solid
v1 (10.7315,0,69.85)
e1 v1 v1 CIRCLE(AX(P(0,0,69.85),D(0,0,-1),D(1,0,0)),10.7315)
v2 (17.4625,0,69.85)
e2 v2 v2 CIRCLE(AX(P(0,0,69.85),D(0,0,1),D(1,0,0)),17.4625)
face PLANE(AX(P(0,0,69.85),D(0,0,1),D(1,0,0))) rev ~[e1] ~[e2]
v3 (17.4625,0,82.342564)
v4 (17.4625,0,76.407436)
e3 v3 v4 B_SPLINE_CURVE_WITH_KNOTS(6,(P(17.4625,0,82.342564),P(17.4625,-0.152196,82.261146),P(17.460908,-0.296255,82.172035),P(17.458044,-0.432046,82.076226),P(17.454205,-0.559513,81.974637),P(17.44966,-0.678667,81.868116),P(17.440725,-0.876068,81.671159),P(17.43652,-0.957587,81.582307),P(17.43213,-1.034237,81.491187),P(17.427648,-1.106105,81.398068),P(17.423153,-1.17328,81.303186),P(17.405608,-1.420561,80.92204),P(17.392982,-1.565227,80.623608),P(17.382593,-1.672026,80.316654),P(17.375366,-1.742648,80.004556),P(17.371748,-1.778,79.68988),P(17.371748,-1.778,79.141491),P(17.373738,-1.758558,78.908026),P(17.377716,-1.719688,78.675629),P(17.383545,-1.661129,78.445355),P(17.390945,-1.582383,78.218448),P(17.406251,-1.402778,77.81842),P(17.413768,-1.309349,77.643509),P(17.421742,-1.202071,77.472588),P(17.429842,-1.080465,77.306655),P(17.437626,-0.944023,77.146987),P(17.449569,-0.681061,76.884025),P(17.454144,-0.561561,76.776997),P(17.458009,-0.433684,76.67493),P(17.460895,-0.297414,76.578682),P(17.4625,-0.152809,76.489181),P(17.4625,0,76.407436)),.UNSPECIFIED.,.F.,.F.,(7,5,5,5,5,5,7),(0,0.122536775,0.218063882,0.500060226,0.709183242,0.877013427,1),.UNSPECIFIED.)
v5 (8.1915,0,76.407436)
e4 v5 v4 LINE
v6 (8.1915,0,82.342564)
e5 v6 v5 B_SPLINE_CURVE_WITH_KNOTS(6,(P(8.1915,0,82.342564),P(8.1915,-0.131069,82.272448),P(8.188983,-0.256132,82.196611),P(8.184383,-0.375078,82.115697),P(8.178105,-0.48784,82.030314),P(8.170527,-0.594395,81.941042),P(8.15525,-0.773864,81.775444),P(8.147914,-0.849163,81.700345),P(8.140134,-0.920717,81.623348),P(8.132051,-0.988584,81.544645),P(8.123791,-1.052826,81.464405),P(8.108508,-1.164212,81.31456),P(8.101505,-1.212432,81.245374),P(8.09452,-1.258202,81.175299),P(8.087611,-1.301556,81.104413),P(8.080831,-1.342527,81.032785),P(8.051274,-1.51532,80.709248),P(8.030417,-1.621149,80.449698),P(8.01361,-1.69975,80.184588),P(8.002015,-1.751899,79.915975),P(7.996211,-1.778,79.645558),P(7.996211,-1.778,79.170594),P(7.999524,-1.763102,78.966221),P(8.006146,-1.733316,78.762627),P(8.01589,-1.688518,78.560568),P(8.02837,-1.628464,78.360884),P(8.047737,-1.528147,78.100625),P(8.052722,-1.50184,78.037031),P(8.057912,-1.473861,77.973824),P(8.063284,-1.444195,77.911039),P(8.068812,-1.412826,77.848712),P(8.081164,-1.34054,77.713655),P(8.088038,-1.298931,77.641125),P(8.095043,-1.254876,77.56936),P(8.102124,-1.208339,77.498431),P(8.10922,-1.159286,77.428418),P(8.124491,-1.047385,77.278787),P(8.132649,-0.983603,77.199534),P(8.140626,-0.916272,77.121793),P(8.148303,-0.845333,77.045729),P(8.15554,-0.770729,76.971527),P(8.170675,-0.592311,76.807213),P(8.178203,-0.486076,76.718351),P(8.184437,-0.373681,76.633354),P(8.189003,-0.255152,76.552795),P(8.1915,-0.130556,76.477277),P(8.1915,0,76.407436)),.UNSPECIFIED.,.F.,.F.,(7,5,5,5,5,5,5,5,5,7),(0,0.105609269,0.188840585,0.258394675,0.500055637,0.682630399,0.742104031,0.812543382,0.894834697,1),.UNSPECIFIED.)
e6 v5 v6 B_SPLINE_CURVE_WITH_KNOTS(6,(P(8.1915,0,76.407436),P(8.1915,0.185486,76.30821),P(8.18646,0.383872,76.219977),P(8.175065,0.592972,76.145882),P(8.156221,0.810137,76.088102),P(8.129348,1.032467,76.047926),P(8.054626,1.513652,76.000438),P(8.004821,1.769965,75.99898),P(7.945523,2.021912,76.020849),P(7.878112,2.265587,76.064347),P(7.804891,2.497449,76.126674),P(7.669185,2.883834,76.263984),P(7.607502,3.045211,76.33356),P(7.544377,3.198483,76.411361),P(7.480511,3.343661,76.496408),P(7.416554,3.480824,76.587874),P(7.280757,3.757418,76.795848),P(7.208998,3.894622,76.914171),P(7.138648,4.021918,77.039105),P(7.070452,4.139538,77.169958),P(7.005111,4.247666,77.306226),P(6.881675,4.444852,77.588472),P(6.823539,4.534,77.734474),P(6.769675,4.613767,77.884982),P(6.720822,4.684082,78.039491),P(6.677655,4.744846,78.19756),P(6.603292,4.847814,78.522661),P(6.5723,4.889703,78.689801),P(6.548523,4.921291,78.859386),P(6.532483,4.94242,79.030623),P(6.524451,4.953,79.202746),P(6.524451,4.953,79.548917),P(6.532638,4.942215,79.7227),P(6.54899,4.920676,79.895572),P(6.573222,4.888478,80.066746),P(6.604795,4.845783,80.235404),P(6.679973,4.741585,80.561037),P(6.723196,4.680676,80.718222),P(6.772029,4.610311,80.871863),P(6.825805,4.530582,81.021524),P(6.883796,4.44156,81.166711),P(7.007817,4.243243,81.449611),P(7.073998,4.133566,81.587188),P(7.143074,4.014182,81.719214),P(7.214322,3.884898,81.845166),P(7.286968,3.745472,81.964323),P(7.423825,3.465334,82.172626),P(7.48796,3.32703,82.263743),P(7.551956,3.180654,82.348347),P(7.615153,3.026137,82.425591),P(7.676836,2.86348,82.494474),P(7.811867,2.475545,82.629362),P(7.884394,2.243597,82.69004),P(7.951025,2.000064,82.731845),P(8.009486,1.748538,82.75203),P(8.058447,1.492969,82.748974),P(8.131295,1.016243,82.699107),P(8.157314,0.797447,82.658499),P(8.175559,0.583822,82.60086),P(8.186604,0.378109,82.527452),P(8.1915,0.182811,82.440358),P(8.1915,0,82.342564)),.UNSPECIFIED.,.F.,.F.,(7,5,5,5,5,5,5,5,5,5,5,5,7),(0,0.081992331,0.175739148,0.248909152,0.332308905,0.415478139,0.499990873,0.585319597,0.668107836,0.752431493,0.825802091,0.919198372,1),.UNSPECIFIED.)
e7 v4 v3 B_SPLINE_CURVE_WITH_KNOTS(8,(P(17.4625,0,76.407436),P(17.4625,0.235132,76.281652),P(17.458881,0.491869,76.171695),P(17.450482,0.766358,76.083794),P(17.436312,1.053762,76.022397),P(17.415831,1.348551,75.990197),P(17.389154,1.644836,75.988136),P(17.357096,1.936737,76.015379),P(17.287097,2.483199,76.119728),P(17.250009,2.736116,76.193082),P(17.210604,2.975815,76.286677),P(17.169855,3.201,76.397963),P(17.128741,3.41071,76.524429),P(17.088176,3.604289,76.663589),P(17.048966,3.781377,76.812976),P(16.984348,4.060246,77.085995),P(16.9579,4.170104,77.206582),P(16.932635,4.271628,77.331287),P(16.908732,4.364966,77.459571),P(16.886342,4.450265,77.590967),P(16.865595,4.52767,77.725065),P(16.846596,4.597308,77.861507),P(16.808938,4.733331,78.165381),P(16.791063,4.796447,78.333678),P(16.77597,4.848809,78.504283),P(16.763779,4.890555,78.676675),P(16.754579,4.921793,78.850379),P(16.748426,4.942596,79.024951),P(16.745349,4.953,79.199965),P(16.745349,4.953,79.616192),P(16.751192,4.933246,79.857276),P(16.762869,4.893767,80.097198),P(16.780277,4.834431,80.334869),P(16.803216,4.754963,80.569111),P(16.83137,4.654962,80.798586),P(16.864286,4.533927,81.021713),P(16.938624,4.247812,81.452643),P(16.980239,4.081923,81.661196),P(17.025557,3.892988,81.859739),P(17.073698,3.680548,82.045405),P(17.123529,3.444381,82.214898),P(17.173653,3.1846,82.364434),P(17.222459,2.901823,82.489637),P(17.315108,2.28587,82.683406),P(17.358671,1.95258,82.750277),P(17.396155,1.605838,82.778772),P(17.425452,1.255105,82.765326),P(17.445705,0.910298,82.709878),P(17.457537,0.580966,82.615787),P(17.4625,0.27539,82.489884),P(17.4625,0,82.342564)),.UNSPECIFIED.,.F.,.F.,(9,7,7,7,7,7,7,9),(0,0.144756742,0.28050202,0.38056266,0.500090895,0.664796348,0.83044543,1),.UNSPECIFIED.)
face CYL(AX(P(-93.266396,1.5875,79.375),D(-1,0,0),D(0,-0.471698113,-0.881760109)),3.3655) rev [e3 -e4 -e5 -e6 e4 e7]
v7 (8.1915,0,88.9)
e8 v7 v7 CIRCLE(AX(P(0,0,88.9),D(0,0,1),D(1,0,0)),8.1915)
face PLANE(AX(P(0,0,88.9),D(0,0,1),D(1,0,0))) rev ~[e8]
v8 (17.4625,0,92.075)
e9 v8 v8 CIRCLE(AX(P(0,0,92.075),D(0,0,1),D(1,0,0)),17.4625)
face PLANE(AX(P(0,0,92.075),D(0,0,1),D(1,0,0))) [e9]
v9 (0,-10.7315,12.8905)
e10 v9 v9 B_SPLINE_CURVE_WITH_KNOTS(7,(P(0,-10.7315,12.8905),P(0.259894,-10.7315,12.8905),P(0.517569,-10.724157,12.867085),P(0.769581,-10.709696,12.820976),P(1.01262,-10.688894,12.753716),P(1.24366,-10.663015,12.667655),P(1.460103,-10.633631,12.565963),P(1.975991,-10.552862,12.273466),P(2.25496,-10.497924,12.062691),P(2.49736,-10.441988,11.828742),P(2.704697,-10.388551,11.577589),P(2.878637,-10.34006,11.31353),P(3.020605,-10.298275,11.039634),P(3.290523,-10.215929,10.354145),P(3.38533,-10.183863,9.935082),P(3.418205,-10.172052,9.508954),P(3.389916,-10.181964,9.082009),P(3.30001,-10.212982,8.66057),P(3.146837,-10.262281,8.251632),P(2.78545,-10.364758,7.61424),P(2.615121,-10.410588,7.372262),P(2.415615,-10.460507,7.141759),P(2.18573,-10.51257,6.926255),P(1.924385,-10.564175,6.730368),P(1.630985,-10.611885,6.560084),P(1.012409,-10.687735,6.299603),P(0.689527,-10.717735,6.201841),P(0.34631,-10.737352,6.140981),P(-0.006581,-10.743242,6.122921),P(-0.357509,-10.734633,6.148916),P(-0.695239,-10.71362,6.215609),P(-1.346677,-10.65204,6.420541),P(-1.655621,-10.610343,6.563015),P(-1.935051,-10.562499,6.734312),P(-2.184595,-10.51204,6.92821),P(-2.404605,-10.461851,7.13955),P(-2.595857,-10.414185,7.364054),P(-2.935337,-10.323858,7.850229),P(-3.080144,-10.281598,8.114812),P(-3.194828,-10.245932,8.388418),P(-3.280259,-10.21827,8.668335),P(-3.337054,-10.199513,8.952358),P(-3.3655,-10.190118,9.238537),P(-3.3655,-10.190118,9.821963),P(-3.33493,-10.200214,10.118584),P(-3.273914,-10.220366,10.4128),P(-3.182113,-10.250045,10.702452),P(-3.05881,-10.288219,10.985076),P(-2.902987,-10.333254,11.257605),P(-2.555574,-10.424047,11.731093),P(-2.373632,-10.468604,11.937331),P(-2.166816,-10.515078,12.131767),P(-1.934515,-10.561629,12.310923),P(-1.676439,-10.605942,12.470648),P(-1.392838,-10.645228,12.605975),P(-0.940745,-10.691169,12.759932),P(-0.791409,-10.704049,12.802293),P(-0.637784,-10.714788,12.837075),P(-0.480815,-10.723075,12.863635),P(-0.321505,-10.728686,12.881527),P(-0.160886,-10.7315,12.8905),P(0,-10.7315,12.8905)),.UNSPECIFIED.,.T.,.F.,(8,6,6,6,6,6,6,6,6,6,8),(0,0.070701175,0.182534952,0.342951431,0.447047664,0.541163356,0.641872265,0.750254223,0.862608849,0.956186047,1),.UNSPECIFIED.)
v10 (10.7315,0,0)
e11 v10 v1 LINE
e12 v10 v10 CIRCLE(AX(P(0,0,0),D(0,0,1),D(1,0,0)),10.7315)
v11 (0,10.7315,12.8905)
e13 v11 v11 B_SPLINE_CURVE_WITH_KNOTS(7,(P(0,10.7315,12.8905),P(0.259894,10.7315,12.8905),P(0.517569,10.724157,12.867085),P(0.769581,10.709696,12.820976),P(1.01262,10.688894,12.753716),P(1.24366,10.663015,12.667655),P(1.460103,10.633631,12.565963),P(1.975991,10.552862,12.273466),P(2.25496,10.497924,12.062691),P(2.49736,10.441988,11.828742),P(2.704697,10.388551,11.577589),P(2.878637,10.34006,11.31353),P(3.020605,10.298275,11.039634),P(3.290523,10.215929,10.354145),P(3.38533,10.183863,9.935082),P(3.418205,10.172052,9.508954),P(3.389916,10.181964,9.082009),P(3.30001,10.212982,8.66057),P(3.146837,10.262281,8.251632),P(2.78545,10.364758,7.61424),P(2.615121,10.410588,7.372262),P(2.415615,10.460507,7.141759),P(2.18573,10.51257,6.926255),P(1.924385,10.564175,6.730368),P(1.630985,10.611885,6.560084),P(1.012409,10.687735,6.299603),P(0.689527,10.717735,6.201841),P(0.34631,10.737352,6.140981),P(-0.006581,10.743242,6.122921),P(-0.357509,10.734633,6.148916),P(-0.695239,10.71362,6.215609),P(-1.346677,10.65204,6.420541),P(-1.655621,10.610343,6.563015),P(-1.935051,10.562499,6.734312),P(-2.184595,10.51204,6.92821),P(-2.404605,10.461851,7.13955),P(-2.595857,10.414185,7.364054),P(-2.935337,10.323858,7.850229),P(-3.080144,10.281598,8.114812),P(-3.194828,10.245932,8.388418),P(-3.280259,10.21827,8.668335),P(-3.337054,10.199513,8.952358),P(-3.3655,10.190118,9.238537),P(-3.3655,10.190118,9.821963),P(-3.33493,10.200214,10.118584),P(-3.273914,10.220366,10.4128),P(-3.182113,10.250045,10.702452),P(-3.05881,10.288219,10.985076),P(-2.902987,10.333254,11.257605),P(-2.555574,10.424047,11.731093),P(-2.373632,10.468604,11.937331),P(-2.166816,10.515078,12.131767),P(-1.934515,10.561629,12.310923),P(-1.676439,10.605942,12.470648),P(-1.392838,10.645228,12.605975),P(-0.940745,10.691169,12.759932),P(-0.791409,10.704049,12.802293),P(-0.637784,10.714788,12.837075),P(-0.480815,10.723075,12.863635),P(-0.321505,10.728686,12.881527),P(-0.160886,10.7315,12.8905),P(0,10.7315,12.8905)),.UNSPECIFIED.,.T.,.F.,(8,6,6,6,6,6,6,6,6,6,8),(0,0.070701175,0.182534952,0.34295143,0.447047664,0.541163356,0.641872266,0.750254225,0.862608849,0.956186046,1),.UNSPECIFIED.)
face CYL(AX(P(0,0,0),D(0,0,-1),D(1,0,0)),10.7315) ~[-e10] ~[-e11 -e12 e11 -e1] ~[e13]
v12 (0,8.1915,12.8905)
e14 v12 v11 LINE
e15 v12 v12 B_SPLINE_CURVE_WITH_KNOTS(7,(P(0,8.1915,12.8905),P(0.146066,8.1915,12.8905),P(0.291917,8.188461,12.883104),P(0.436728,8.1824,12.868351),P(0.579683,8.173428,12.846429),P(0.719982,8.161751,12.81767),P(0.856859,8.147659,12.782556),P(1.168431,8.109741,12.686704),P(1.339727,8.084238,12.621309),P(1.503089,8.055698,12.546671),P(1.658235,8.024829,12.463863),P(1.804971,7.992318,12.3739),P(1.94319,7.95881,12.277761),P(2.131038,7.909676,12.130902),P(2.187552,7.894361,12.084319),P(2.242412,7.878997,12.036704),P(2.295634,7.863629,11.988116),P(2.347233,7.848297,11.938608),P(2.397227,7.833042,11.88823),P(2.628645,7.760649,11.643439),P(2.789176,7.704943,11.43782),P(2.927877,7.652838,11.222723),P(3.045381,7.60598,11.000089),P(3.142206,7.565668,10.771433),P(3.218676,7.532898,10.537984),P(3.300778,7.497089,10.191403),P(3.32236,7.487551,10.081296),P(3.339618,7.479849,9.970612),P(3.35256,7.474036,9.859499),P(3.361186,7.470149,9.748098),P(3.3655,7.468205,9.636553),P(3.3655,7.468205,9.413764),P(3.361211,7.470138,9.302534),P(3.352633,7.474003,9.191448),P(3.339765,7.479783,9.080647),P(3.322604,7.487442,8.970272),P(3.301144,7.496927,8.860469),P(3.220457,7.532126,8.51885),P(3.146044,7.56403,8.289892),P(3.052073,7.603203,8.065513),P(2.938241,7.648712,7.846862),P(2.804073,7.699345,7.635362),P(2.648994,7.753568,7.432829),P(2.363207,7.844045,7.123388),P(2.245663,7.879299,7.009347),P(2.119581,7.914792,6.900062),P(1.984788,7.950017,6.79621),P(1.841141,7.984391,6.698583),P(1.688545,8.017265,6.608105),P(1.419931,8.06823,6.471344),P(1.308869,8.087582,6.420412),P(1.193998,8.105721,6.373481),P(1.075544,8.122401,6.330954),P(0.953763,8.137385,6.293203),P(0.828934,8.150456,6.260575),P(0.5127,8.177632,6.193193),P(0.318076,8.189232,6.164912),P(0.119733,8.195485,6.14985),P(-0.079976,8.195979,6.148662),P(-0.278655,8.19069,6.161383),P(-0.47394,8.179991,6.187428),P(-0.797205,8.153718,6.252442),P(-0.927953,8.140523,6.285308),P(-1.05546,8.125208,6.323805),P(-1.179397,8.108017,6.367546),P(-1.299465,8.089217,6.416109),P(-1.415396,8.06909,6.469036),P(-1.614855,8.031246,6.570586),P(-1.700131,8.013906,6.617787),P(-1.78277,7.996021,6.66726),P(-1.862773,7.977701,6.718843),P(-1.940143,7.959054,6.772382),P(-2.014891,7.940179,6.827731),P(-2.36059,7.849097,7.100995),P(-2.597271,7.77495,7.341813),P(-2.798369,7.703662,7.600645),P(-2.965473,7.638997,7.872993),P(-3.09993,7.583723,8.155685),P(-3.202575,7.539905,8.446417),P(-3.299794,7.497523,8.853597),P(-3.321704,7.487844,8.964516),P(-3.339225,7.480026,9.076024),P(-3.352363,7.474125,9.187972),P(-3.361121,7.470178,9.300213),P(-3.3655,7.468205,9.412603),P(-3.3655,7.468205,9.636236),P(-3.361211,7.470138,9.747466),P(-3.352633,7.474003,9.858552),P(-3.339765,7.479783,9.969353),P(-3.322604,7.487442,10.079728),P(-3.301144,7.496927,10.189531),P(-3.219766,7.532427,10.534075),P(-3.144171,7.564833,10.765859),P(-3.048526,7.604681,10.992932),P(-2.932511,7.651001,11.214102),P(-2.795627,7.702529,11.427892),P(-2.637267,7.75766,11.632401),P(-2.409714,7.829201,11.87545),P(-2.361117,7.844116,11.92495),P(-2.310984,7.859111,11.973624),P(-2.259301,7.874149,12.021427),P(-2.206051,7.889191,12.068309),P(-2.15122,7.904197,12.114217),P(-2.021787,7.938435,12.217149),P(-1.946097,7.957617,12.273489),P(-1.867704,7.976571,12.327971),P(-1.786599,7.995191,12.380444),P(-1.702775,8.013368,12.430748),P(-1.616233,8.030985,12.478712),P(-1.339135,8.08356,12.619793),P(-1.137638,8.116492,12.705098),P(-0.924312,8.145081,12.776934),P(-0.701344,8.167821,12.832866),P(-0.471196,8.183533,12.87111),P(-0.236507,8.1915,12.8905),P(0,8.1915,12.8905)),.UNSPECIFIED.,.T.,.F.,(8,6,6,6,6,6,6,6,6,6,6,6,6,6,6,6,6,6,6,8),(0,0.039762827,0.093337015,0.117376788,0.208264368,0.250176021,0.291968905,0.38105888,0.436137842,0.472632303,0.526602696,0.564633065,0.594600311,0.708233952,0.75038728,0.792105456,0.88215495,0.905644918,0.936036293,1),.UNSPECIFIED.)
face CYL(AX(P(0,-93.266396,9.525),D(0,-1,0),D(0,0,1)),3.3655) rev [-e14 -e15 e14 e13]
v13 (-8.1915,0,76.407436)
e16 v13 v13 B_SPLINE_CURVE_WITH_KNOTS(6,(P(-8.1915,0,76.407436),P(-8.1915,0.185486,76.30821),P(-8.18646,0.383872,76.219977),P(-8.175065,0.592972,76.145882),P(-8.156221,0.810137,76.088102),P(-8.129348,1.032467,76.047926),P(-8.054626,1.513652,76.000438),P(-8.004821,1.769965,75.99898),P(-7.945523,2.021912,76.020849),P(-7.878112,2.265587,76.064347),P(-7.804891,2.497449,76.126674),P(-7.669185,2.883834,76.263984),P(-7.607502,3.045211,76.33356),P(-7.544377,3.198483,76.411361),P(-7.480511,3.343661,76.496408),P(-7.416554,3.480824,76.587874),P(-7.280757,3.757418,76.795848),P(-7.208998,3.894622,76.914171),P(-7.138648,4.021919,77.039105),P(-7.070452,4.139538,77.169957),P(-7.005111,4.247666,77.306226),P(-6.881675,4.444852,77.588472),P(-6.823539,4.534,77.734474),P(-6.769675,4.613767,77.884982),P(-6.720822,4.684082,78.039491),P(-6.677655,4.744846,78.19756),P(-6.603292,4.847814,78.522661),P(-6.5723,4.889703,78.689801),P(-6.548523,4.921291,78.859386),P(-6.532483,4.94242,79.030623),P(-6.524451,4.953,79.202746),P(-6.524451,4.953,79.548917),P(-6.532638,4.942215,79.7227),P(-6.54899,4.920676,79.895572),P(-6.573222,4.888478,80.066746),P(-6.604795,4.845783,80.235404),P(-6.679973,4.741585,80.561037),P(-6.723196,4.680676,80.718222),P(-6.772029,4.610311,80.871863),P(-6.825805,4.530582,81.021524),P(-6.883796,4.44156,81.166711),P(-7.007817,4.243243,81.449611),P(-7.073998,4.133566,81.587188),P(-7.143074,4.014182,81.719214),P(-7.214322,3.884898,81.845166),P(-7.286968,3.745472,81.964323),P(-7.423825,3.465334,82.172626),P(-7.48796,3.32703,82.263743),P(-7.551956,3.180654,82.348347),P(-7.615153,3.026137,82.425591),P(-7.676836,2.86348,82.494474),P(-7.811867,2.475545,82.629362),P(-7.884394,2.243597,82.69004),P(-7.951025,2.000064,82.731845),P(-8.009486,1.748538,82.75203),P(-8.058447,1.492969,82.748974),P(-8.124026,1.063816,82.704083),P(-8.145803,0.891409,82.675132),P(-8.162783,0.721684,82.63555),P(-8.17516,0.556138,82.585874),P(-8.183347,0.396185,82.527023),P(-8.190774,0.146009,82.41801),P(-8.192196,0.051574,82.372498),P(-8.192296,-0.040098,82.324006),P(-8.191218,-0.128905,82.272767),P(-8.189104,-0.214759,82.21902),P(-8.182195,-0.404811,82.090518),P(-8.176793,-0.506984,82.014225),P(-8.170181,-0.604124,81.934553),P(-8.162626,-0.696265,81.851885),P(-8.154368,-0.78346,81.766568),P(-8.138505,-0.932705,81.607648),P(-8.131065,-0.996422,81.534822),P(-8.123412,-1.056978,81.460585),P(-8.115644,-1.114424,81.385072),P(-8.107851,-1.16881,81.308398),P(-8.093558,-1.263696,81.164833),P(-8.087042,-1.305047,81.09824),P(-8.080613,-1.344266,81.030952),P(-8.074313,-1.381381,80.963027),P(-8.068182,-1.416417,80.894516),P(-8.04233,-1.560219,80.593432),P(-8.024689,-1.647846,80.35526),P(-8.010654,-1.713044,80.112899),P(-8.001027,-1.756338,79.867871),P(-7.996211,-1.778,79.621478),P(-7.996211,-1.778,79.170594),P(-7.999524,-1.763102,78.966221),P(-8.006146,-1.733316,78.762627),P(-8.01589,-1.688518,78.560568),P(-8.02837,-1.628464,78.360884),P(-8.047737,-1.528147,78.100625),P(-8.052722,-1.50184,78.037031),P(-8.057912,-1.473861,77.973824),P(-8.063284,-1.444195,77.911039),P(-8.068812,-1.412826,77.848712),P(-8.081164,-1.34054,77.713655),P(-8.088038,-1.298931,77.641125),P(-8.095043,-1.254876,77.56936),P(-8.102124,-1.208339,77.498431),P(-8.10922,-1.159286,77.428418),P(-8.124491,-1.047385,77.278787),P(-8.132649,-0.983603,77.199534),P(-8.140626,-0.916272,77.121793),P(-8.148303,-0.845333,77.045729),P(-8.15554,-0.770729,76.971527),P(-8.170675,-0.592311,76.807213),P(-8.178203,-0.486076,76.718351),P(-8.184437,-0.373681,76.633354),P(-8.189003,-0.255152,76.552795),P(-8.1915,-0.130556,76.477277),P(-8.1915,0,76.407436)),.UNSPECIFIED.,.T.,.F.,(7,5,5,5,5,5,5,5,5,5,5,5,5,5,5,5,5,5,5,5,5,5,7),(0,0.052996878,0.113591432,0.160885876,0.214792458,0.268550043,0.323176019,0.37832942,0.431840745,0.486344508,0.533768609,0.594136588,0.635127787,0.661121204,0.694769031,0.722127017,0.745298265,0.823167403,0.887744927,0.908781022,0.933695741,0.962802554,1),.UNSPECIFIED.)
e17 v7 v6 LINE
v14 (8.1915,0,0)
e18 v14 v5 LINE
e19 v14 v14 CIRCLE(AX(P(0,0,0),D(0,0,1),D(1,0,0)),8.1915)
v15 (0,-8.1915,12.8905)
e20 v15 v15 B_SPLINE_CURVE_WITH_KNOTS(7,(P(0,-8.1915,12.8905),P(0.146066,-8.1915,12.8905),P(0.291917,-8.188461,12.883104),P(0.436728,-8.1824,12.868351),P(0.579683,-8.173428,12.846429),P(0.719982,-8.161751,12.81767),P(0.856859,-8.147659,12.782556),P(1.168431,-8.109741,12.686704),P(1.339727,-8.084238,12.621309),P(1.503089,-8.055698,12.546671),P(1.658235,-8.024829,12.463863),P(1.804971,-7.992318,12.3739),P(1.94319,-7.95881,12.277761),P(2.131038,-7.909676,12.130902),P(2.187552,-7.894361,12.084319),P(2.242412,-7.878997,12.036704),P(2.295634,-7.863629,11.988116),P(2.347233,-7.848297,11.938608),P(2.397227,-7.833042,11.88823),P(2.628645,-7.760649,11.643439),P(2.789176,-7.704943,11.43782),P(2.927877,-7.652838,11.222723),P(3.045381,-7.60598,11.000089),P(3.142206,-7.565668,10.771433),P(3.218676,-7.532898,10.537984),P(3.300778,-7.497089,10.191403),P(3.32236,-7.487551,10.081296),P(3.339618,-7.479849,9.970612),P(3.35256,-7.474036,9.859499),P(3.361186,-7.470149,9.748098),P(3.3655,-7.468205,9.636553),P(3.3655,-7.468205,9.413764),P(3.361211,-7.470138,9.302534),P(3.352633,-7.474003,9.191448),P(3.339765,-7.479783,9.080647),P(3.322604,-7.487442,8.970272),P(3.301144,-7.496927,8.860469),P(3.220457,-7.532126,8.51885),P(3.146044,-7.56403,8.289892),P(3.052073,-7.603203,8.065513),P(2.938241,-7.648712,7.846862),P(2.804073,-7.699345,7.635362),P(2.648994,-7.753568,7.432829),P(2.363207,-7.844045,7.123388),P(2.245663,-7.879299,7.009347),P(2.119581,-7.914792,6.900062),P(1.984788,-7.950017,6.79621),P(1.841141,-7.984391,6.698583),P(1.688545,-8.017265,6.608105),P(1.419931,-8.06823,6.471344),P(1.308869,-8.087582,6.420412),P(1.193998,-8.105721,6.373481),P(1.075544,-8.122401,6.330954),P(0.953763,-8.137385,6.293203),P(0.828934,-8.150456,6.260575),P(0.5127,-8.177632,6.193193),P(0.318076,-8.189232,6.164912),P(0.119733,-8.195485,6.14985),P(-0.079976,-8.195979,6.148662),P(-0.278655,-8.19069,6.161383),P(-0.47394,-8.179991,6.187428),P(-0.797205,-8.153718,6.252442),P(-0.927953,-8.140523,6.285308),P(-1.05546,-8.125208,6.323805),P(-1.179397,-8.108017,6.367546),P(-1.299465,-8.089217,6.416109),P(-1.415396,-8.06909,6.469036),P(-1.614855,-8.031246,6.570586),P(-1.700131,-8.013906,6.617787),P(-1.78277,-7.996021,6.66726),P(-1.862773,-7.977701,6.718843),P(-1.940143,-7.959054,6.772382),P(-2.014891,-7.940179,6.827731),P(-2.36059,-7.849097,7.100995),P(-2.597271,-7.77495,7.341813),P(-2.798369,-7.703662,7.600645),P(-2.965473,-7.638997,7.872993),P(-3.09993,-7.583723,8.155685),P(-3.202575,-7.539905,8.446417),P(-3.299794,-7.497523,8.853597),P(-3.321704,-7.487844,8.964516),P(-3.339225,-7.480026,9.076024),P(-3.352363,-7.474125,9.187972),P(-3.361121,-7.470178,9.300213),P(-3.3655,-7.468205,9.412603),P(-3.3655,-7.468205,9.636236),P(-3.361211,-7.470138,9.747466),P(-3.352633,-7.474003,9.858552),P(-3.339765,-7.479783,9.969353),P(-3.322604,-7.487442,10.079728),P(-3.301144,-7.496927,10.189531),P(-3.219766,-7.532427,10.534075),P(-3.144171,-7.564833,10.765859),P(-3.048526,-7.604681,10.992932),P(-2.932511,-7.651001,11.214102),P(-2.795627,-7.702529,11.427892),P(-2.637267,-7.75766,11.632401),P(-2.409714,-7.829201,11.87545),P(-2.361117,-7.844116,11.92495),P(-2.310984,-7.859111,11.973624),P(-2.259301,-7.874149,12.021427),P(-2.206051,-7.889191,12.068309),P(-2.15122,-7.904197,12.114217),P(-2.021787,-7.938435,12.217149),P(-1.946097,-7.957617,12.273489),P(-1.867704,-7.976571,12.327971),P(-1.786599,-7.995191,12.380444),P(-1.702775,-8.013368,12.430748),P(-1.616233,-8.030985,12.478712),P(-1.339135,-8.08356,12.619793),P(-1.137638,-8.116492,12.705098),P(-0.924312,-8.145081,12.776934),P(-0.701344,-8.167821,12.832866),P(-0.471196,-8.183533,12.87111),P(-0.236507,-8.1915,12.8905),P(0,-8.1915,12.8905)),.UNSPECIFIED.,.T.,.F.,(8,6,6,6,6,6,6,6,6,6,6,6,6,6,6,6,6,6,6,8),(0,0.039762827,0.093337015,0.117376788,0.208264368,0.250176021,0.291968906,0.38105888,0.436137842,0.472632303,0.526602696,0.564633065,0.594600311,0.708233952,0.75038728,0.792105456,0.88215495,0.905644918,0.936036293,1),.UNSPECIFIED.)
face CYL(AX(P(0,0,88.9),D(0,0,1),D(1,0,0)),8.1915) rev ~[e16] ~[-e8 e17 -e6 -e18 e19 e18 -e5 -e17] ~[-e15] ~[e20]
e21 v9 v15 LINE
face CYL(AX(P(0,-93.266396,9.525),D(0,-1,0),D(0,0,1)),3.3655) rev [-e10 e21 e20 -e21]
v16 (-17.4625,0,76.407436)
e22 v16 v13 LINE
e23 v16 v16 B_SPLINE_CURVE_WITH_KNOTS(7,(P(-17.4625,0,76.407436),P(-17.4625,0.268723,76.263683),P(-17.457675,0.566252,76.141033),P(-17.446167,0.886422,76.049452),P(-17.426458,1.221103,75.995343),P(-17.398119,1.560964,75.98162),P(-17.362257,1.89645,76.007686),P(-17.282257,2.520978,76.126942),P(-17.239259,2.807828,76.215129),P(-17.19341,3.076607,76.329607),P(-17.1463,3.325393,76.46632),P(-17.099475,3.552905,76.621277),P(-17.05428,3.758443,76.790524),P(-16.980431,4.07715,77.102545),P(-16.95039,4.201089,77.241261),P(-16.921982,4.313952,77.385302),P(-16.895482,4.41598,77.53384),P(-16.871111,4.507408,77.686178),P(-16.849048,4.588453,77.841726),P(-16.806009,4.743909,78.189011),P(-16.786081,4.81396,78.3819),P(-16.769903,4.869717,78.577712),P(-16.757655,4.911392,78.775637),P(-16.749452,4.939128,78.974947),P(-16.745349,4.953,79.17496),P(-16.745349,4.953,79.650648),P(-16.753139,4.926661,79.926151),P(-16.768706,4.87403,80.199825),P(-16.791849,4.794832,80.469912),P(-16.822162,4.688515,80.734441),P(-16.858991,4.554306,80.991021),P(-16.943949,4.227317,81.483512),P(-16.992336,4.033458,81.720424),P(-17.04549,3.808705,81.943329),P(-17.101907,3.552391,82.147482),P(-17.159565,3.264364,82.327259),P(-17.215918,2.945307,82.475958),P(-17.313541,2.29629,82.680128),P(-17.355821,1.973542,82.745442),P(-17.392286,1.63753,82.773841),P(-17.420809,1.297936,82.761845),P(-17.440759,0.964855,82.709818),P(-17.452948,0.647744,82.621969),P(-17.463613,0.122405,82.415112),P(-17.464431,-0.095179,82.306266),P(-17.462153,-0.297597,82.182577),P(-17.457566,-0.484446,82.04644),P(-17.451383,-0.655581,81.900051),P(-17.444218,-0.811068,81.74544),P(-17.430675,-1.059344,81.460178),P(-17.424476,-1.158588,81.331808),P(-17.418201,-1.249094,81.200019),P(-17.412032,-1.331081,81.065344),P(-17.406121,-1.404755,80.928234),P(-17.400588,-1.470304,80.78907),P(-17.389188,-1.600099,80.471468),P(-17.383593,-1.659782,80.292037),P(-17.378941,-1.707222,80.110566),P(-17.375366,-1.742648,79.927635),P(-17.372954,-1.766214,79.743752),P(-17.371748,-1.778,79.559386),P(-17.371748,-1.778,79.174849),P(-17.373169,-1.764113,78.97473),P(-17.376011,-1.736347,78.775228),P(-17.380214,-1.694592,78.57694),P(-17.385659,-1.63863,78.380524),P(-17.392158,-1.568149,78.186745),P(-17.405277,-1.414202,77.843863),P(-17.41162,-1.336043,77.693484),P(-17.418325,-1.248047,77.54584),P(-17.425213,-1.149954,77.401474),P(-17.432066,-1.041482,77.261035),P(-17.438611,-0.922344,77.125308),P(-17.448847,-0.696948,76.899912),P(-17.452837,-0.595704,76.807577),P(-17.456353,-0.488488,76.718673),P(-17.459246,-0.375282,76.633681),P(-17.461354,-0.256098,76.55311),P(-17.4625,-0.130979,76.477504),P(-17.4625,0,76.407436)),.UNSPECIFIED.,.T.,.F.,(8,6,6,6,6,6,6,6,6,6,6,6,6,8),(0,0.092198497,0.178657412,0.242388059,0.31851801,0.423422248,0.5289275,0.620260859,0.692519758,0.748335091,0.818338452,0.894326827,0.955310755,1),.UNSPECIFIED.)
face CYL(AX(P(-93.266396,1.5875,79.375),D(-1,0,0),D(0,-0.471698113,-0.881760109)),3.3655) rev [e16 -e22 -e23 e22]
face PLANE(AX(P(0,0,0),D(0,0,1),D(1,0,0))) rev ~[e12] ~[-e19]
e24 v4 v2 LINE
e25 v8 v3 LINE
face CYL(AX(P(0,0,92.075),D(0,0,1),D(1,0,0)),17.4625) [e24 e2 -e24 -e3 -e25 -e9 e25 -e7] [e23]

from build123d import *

# Parameters (mm, degrees)
SKETCH1_R               = 10.7315
SKETCH1_R_2             = 8.1915
BOSS_EXTRUDE1_DEPTH     = 88.9
SKETCH4_R               = 17.4625
BOSS_EXTRUDE2_DEPTH     = 19.05
CUT_EXTRUDE1_DEPTH      = 93.266395901
CUT_EXTRUDE1_DEPTH_BACK = 93.266395901
SKETCH5_R               = 3.3655
CUT_EXTRUDE2_DEPTH      = 93.266396035
CUT_EXTRUDE2_DEPTH_BACK = 93.266396035
SKETCH7_R               = 3.3655
SKETCH8_R               = 8.1915
CUT_EXTRUDE3_DEPTH      = 93.266396035
BOSS_EXTRUDE3_START     = 3.175
SKETCH9_R               = 17.4625
BOSS_EXTRUDE3_DEPTH     = 3.175


with BuildPart() as part:
    # Sketch1 → Boss-Extrude1 (new body)
    with BuildSketch(Plane.XY):
        Circle(SKETCH1_R)
        Circle(SKETCH1_R_2, mode=Mode.SUBTRACT)
    extrude(amount=BOSS_EXTRUDE1_DEPTH)

    # Sketch4 → Boss-Extrude2 (add)
    with BuildSketch(Plane.XY.offset(88.9)):
        Circle(SKETCH4_R)
    extrude(amount=-BOSS_EXTRUDE2_DEPTH)

    # Sketch5 → Cut-Extrude1 (cut, two sides: drawn at the far end of the back side and taken through both)
    with BuildSketch(Plane(origin=(0, 0, 0), x_dir=(0, 0, -1), z_dir=(1, 0, 0)).offset(-CUT_EXTRUDE1_DEPTH_BACK)):
        with Locations(Location((-79.375, 1.5875, 0), (0, 0, 331.855418691))):
            Circle(SKETCH5_R)
    extrude(amount=CUT_EXTRUDE1_DEPTH + CUT_EXTRUDE1_DEPTH_BACK, mode=Mode.SUBTRACT)

    # Sketch7 → Cut-Extrude2 (cut, two sides: drawn at the far end of the back side and taken through both)
    with BuildSketch(Plane(origin=(0, 0, 0), x_dir=(1, 0, 0), z_dir=(0, 1, 0)).offset(-CUT_EXTRUDE2_DEPTH_BACK)):
        with Locations(Location((0, -9.525, 0), (0, 0, 270))):
            Circle(SKETCH7_R)
    extrude(amount=CUT_EXTRUDE2_DEPTH + CUT_EXTRUDE2_DEPTH_BACK, mode=Mode.SUBTRACT)

    # Sketch8 → Cut-Extrude3 (cut, through all)
    with BuildSketch(Plane.XY.offset(88.9)):
        Circle(SKETCH8_R)
    extrude(amount=-CUT_EXTRUDE3_DEPTH, mode=Mode.SUBTRACT)

    # Sketch9 → Boss-Extrude3 (add)
    with BuildSketch(Plane.XY.offset(88.9).offset(BOSS_EXTRUDE3_START)):
        Circle(SKETCH9_R)
    extrude(amount=-BOSS_EXTRUDE3_DEPTH)


solid = part.part
